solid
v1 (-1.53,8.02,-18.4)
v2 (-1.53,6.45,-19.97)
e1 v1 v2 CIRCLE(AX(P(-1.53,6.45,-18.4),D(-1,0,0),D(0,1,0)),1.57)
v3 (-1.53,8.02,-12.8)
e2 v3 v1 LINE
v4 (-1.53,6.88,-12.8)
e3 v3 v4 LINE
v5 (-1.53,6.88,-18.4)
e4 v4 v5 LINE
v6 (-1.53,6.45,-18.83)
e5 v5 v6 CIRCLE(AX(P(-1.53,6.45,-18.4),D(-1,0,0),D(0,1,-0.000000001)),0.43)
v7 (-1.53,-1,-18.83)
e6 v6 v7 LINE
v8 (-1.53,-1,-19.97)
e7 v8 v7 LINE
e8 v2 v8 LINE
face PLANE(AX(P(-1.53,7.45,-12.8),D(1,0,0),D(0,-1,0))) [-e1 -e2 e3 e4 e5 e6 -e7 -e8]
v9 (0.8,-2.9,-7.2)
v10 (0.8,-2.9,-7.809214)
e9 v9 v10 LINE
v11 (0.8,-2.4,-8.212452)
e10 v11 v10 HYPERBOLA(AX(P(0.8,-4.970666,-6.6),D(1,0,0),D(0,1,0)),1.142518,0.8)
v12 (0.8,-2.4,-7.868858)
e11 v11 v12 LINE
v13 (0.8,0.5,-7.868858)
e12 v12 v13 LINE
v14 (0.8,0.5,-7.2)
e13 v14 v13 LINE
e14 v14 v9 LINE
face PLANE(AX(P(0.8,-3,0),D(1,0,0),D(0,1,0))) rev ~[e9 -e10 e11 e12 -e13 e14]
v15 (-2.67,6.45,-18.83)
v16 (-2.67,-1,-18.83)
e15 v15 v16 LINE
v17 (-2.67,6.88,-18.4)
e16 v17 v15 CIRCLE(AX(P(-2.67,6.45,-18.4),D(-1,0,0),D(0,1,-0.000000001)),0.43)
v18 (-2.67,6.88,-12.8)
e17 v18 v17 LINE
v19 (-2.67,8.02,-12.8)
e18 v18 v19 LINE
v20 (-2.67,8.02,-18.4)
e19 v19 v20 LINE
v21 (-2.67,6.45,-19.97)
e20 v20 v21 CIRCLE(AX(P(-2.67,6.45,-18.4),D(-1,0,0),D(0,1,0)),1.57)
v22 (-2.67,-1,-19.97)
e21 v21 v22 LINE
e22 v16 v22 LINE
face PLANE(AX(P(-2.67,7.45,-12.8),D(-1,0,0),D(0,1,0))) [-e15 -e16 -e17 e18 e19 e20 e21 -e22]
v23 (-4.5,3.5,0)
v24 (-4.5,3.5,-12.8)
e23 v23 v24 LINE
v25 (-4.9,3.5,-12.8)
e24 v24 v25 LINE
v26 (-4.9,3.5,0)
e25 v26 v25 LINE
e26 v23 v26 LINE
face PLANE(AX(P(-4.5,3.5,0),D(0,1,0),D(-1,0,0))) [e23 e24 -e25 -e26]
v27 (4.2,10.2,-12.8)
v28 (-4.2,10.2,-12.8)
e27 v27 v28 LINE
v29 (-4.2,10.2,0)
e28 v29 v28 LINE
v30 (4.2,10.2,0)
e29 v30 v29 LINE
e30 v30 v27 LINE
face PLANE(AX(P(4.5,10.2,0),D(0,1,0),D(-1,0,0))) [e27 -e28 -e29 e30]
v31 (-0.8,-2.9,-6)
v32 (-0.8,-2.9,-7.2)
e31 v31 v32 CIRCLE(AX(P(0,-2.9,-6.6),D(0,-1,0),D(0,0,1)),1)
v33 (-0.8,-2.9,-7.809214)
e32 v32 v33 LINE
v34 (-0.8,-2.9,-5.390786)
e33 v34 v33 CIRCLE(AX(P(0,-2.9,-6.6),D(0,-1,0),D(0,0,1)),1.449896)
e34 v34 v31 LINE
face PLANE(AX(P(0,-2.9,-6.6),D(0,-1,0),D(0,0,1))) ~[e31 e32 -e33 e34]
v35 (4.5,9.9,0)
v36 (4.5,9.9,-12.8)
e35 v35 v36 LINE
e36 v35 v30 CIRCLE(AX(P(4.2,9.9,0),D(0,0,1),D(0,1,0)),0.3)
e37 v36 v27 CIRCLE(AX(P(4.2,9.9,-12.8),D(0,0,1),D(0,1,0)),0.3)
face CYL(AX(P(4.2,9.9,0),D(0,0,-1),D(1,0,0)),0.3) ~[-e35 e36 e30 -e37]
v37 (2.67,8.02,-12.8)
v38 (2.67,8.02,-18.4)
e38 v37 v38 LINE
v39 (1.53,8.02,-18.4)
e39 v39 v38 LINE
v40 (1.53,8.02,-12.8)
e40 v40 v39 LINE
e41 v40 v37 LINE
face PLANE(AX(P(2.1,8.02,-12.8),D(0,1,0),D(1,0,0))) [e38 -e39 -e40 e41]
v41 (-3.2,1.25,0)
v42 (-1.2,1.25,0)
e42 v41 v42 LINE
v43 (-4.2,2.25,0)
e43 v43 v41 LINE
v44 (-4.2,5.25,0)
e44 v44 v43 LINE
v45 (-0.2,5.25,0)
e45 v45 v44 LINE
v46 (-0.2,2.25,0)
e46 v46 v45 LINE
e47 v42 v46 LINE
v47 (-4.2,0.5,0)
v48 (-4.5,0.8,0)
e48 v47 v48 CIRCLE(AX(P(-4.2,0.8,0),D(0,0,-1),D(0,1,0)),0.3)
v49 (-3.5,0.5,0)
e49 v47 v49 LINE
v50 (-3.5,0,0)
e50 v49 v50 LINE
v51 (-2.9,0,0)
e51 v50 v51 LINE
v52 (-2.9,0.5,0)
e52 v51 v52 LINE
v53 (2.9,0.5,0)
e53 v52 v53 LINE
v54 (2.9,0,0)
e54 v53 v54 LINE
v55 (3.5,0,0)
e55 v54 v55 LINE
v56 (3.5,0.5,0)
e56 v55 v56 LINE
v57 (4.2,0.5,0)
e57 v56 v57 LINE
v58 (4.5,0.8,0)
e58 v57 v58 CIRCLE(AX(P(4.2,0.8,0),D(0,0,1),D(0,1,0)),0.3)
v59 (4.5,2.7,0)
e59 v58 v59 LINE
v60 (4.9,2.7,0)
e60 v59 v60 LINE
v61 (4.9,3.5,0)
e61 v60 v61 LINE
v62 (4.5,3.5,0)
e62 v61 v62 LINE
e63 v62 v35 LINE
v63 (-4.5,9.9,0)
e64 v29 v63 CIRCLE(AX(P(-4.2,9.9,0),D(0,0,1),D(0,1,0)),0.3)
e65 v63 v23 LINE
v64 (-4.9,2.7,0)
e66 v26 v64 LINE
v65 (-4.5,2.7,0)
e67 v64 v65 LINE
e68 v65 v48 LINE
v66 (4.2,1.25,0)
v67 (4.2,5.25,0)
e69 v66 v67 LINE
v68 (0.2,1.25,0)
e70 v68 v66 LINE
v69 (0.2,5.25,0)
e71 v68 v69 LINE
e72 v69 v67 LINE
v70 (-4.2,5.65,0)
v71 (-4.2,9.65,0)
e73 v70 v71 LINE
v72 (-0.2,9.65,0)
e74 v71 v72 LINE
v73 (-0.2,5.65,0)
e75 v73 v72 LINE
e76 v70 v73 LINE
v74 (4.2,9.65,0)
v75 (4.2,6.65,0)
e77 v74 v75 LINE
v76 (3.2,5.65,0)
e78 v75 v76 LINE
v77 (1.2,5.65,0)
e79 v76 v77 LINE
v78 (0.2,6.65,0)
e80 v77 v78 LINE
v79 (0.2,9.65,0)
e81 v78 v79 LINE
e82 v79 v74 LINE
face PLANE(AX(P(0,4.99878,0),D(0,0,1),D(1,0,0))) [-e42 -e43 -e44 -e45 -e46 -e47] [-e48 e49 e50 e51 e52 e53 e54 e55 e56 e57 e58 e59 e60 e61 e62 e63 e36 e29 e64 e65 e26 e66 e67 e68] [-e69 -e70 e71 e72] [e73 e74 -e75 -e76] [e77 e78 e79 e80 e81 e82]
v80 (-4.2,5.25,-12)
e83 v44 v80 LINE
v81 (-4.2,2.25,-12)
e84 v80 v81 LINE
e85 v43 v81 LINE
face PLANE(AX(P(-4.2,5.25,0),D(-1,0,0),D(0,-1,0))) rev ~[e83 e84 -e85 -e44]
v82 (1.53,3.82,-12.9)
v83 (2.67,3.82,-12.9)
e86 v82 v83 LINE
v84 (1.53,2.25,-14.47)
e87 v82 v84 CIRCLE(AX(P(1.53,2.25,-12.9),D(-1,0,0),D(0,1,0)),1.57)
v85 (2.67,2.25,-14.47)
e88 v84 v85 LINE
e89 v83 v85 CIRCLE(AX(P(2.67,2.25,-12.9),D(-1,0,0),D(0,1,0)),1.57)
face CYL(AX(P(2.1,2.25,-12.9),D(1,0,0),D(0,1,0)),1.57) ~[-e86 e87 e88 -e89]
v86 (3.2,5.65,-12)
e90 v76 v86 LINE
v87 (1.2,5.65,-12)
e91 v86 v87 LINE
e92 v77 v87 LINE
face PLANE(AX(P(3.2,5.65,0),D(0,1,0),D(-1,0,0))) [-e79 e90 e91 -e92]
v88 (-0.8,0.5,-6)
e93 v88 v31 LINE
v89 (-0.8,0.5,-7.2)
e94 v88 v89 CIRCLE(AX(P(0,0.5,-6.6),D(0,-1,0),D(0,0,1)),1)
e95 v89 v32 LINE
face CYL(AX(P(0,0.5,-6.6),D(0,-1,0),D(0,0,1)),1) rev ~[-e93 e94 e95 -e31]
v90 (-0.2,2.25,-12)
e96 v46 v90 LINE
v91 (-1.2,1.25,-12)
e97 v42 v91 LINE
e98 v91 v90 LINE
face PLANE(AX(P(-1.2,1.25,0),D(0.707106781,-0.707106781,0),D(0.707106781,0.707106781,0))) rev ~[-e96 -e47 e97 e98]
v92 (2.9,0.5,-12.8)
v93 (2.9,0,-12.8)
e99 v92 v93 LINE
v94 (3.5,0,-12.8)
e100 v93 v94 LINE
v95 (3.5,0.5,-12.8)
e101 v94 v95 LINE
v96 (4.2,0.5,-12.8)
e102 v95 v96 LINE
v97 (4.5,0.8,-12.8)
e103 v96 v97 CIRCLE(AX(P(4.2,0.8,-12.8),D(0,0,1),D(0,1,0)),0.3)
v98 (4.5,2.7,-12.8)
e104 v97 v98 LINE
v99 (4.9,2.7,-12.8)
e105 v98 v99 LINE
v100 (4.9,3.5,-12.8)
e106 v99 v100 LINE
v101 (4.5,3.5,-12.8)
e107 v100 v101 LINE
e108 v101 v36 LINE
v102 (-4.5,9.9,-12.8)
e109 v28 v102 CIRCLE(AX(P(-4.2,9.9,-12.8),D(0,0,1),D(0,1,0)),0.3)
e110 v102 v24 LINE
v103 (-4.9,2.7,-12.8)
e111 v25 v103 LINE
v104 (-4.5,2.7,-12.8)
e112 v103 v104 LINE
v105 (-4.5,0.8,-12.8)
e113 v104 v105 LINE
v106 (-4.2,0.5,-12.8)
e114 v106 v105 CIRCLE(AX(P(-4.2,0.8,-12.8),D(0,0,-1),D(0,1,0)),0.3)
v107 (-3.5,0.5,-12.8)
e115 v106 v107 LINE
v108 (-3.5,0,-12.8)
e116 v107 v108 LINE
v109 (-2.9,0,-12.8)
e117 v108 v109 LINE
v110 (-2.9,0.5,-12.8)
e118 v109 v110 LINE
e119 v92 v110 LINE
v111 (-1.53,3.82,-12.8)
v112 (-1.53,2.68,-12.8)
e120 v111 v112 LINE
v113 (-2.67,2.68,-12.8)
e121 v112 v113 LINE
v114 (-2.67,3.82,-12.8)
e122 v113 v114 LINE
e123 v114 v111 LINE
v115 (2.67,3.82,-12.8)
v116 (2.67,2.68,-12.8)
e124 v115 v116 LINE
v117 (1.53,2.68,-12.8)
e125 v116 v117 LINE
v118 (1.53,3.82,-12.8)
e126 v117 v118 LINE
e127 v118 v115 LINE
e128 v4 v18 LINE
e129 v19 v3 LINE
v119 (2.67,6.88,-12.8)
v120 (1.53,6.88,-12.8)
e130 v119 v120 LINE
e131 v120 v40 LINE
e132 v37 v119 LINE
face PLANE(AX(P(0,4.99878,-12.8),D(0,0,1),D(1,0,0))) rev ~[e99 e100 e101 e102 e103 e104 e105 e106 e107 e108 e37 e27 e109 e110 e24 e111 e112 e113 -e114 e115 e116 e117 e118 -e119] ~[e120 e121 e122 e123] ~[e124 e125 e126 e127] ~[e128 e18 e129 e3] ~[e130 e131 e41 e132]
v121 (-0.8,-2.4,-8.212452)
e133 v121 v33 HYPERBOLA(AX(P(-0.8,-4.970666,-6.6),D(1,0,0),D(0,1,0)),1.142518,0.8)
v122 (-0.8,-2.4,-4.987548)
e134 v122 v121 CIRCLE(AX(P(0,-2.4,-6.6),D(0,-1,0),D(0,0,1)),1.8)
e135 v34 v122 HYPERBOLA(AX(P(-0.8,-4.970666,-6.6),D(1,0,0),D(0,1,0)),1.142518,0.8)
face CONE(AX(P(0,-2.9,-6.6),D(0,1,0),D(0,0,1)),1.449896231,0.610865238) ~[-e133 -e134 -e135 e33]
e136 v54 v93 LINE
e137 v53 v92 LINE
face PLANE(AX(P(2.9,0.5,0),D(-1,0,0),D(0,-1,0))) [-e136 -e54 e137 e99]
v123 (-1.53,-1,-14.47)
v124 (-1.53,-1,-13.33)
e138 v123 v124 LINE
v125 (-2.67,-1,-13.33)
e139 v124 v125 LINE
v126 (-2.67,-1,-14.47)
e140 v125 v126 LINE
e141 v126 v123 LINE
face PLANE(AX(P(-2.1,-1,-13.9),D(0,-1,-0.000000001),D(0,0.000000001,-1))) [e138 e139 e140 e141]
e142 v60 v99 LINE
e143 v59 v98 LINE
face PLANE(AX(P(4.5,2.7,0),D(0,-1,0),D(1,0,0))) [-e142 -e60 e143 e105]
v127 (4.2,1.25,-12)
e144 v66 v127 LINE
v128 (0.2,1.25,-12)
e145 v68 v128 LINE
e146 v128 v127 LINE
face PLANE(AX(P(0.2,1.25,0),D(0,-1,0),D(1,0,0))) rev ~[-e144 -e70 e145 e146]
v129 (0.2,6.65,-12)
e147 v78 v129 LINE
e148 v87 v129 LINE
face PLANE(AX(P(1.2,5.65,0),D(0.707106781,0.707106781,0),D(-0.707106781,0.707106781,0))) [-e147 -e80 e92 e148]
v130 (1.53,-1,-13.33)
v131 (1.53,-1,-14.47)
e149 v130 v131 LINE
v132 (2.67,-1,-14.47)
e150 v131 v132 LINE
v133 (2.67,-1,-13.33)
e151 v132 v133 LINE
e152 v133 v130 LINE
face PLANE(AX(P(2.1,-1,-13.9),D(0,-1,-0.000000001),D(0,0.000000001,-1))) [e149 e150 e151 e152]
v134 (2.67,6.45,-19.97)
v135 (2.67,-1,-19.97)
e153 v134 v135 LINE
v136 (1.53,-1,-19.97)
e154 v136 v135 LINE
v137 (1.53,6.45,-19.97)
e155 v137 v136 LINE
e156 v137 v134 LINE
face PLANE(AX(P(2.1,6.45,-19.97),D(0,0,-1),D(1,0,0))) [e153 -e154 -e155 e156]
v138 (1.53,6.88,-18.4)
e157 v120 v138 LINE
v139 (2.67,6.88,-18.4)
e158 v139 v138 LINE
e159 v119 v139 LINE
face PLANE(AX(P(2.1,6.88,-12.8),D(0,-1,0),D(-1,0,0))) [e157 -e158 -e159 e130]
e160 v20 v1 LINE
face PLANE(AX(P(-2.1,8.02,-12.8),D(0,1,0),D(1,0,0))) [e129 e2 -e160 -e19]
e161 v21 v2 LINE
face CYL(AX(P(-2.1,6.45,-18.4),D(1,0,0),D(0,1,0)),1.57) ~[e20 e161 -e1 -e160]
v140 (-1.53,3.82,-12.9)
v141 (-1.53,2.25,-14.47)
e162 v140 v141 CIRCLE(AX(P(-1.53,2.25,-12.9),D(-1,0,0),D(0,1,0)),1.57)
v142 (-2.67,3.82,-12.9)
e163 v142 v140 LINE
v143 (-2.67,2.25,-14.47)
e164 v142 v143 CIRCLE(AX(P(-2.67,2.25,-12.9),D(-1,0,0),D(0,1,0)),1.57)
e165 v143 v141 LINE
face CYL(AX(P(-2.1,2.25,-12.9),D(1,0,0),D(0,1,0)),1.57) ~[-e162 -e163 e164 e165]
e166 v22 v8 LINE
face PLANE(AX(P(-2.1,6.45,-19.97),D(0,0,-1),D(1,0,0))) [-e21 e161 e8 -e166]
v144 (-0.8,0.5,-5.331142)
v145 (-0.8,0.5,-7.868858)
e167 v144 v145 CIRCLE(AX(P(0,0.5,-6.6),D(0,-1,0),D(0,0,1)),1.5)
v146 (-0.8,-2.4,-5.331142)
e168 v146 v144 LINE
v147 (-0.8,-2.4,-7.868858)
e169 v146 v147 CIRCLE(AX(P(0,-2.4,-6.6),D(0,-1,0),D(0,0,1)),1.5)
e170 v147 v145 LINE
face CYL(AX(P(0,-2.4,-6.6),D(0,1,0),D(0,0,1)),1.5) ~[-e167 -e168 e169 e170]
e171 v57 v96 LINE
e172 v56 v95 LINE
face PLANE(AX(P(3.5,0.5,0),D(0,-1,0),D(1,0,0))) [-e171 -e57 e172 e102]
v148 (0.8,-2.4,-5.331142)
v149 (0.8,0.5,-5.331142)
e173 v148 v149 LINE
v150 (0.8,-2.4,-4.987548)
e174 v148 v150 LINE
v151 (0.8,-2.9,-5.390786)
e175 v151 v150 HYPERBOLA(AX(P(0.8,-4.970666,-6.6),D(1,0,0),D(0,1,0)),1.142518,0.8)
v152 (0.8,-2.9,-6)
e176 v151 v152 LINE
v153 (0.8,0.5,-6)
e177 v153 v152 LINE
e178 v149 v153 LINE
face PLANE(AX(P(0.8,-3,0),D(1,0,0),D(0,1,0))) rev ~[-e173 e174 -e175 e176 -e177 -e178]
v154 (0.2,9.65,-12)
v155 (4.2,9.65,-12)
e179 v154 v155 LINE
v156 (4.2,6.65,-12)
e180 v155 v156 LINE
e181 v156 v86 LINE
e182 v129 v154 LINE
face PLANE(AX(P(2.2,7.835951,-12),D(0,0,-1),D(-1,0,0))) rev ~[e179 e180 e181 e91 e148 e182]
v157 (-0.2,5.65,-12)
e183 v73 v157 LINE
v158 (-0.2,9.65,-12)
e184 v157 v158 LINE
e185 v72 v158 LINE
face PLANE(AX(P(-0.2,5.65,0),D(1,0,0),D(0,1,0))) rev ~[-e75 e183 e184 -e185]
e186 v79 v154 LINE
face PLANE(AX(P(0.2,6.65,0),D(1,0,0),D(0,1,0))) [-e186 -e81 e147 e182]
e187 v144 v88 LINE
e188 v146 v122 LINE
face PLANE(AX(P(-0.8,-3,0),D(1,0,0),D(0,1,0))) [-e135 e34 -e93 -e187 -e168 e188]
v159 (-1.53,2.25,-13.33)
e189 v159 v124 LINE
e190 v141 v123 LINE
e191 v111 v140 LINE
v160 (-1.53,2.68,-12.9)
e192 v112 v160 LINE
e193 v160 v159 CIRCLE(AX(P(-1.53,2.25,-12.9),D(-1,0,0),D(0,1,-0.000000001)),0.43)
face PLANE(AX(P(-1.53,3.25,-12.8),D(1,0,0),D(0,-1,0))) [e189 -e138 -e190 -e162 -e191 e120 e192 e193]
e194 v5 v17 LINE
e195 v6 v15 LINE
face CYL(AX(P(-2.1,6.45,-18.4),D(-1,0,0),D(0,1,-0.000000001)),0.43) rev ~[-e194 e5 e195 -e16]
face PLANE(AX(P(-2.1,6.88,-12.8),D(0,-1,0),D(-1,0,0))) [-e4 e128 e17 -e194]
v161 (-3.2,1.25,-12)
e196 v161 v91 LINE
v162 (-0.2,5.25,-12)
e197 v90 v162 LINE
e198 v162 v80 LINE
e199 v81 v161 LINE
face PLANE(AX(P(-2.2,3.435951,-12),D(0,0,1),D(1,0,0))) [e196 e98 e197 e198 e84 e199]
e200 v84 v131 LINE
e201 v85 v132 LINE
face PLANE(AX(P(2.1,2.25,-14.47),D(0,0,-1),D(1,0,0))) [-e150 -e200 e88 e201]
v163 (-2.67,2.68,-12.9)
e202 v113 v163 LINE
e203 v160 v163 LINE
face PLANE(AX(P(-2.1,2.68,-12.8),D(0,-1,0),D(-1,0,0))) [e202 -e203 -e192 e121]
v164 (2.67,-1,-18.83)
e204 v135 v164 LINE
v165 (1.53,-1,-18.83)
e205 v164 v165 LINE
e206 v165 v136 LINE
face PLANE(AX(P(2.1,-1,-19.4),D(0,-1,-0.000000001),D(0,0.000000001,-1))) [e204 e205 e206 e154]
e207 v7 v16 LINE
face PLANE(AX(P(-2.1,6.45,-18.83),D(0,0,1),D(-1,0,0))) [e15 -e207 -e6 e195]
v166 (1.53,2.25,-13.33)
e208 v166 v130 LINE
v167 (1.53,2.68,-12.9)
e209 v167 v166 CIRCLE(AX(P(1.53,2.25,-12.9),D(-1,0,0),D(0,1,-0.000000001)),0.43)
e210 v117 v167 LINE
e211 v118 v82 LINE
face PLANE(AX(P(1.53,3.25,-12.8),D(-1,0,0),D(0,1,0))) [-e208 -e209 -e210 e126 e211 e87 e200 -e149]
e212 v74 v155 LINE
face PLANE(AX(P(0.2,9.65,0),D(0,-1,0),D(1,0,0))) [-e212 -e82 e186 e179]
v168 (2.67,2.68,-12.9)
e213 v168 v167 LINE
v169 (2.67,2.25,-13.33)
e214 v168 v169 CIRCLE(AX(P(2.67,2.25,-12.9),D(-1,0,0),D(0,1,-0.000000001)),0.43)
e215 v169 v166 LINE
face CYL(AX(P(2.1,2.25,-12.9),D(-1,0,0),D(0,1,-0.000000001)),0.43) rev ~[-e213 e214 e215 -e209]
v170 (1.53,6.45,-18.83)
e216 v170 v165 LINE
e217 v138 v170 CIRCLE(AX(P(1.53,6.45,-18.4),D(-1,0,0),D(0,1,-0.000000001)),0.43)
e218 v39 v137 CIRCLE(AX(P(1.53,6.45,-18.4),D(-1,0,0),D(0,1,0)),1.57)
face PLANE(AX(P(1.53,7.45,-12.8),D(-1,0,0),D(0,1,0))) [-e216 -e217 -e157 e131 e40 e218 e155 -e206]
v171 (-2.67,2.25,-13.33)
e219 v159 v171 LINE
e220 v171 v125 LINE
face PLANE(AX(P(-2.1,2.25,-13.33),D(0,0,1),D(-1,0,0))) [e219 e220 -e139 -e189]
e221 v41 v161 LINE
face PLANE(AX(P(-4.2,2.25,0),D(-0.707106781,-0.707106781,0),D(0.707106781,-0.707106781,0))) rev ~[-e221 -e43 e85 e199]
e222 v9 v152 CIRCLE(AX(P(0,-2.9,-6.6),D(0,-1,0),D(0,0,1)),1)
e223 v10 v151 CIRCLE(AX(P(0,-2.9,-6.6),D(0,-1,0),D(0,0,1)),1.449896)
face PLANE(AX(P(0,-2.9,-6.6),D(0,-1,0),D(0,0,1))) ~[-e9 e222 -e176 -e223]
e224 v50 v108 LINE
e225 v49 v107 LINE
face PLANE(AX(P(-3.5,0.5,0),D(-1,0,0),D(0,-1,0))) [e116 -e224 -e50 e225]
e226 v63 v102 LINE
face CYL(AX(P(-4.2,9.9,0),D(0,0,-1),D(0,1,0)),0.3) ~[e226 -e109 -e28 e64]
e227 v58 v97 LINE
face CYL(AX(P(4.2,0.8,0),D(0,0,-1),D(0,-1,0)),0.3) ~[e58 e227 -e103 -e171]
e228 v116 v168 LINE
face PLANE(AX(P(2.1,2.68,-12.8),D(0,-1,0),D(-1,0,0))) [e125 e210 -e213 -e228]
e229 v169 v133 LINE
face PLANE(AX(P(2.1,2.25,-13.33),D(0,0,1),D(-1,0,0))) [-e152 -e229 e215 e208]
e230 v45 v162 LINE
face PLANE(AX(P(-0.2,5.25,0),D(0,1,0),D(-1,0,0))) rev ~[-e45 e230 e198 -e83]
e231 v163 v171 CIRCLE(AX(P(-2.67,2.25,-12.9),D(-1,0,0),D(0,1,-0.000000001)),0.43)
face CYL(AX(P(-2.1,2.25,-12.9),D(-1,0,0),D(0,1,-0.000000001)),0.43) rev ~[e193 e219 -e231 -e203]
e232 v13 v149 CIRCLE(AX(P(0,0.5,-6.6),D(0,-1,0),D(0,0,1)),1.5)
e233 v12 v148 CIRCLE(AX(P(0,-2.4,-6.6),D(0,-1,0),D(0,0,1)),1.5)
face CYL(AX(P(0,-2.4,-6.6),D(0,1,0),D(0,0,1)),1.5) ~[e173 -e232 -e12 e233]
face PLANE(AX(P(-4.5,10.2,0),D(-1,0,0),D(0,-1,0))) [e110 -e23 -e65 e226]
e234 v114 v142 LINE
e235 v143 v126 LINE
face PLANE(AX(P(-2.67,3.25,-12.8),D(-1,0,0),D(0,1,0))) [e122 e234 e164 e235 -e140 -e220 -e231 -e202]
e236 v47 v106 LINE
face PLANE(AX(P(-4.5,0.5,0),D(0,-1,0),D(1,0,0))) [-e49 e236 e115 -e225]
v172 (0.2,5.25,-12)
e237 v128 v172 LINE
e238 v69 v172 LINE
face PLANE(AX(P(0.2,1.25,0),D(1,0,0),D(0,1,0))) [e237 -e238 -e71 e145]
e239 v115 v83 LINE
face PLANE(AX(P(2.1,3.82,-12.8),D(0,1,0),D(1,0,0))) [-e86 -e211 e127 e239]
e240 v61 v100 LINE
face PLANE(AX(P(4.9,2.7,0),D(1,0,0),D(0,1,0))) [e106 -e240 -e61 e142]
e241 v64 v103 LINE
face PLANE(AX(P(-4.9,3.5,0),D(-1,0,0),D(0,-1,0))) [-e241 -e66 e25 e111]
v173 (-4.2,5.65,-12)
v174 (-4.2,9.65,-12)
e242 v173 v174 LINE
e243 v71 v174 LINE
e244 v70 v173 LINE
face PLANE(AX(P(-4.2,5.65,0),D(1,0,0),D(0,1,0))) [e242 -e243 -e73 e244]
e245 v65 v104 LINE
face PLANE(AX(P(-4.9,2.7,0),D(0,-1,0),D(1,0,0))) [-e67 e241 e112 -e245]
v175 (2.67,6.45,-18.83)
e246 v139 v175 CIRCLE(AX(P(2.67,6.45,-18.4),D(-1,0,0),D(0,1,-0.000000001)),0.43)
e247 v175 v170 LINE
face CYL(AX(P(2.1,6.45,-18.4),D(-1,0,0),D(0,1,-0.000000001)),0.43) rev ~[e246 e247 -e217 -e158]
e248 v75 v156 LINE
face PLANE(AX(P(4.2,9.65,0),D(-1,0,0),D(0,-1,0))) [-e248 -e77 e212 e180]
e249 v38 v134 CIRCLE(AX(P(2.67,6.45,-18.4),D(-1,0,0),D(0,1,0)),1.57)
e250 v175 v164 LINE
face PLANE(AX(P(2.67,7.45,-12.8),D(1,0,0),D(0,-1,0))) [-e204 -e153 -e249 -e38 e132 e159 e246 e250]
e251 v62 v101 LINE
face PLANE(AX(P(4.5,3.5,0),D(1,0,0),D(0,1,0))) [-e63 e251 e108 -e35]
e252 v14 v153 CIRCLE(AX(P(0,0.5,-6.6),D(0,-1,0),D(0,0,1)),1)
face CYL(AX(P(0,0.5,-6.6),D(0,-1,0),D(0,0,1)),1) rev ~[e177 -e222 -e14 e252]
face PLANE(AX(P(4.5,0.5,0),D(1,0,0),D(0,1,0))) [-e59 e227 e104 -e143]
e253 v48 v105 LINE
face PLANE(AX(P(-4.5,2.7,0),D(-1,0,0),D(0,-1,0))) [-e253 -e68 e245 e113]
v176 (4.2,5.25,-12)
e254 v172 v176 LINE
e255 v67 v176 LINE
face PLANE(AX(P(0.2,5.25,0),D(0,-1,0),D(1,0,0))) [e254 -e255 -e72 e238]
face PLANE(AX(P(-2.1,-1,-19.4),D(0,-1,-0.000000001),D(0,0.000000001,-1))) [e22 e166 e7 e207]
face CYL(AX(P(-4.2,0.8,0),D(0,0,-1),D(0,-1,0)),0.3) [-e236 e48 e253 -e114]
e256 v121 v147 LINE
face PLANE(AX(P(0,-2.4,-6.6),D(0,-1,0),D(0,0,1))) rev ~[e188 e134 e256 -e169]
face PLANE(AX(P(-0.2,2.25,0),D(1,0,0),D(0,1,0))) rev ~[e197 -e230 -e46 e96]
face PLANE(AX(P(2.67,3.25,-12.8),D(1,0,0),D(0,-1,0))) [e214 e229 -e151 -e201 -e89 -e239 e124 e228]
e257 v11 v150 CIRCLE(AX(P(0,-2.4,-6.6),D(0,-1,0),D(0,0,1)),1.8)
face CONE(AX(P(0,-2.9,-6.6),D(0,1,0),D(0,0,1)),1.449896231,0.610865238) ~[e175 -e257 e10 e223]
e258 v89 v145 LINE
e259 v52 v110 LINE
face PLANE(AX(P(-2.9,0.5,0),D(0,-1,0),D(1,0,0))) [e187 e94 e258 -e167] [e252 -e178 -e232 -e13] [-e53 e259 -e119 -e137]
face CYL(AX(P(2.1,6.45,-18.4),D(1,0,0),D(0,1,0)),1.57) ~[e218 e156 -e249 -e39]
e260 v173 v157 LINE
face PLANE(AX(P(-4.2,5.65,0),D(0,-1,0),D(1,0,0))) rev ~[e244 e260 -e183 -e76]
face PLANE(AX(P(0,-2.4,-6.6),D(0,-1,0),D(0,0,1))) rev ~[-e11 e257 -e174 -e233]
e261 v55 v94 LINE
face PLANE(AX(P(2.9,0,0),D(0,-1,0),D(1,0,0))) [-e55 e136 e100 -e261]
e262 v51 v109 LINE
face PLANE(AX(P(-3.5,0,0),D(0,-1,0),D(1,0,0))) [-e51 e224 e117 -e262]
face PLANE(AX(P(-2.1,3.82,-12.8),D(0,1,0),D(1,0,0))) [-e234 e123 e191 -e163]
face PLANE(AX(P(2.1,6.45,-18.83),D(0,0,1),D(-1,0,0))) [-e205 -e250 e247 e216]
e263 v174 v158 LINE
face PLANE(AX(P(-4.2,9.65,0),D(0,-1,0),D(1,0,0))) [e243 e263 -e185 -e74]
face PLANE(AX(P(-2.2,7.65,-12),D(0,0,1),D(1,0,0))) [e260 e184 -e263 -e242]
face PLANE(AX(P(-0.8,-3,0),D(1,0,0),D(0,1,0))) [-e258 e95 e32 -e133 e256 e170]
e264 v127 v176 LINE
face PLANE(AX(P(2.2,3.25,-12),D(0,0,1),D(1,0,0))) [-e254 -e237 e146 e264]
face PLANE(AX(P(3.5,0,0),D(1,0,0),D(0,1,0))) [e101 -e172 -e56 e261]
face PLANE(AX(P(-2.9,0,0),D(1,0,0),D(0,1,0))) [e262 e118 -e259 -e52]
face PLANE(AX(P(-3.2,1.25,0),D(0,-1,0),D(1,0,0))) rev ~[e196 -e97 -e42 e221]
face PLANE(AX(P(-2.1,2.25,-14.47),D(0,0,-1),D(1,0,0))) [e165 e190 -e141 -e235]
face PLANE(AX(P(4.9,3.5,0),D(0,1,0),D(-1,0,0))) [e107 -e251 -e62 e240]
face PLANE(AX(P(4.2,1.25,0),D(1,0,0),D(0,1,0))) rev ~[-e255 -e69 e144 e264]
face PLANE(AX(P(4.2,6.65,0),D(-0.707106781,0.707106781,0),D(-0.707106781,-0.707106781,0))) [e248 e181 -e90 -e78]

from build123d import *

# Parameters (mm, degrees)
BOSS_EXTRUDE1_DEPTH = 12.8
SKETCH2_W           = 1.14
SKETCH2_H           = 1.14
SKETCH4_W           = 1.14
SKETCH4_H           = 1.14
LPATTERN2_COUNT     = 2
LPATTERN2_PITCH     = 4.2
LPATTERN3_COUNT     = 2
LPATTERN3_PITCH     = 4.2
FILLET1_R           = 0.3
SKETCH6_W           = 4
SKETCH6_H           = 4
CUT_EXTRUDE1_DEPTH  = 12
SKETCH9_W           = 1.6
SKETCH9_H           = 3.5
CUT_EXTRUDE2_DEPTH  = 20.97


with BuildPart() as part:
    # Sketch1 → Boss-Extrude1 (new body)
    with BuildSketch(Plane.XY):
        Polygon((-4.5, 0.5), (-3.5, 0.5), (-3.5, 0), (-2.9, 0), (-2.9, 0.5), (2.9, 0.5), (2.9, 0), (3.5, 0), (3.5, 0.5), (4.5, 0.5), (4.5, 2.7), (4.9, 2.7), (4.9, 3.5), (4.5, 3.5), (4.5, 10.2), (-4.5, 10.2), (-4.5, 3.5), (-4.9, 3.5), (-4.9, 2.7), (-4.5, 2.7), align=None)
    extrude(amount=-BOSS_EXTRUDE1_DEPTH)

    # Sweep2: sweep along a path in Sketch3
    with BuildLine(Plane(origin=(2.1, 0, 0), x_dir=(0, 0, -1), z_dir=(1, 0, 0))) as sweep2_path:
        Line((12.8, 7.45), (18.4, 7.45))
        ThreePointArc((18.4, 7.45), (19.107106781, 7.157106781), (19.4, 6.45))
        Line((19.4, 6.45), (19.4, -1))
    # Sketch2 → Sweep2 (sweep)
    with BuildSketch(Plane(origin=(0, 0, -12.8), x_dir=(-1, 0, 0), z_dir=(0, 0, -1))):
        with Locations((-2.1, 7.45)):
            Rectangle(SKETCH2_W, SKETCH2_H)
    sweep2 = sweep(path=sweep2_path.line)

    # Sweep3: sweep along a path in Sketch5
    with BuildLine(Plane(origin=(2.1, 0, 0), x_dir=(0, 0, -1), z_dir=(1, 0, 0))) as sweep3_path:
        Line((12.8, 3.25), (12.9, 3.25))
        ThreePointArc((12.9, 3.25), (13.607106781, 2.957106781), (13.9, 2.25))
        Line((13.9, 2.25), (13.9, -1))
    # Sketch4 → Sweep3 (sweep)
    with BuildSketch(Plane(origin=(0, 0, -12.8), x_dir=(-1, 0, 0), z_dir=(0, 0, -1))):
        with Locations((-2.1, 3.25)):
            Rectangle(SKETCH4_W, SKETCH4_H)
    sweep3 = sweep(path=sweep3_path.line)

    # LPattern2: Sweep2 ×2
    with Locations(*[(-i * LPATTERN2_PITCH, 0, 0) for i in range(1, LPATTERN2_COUNT)]):
        add(sweep2)

    # LPattern3: Sweep3 ×2
    with Locations(*[(-i * LPATTERN3_PITCH, 0, 0) for i in range(1, LPATTERN3_COUNT)]):
        add(sweep3)

    # Fillet1
    fillet1_edges = [part.edges().sort_by_distance(p)[0] for p in [
        (-4.5, 10.2, -6.4),
        (4.5, 10.2, -6.4),
        (4.5, 0.5, -6.4),
        (-4.5, 0.5, -6.4),
    ]]
    fillet(fillet1_edges, radius=FILLET1_R)

    # Sketch6 → Cut-Extrude1 (cut)
    with BuildSketch(Plane.XY):
        Polygon((-4.2, 2.25), (-3.2, 1.25), (-1.2, 1.25), (-0.2, 2.25), (-0.2, 5.25), (-4.2, 5.25), align=None)
        with Locations((-2.2, 7.65)):
            Rectangle(SKETCH6_W, SKETCH6_H)
        with Locations((2.2, 3.25)):
            Rectangle(SKETCH6_W, SKETCH6_H)
        Polygon((0.2, 9.65), (4.2, 9.65), (4.2, 6.65), (3.2, 5.65), (1.2, 5.65), (0.2, 6.65), align=None)
    extrude(amount=-CUT_EXTRUDE1_DEPTH, mode=Mode.SUBTRACT)

    # Sketch8 → Revolve1 (revolve)
    with BuildSketch(Plane(origin=(0, 0, 0), x_dir=(0, 0, -1), z_dir=(1, 0, 0))):
        Polygon((5.6, 0.5), (5.6, -2.9), (5.150103769, -2.9), (4.8, -2.4), (5.1, -2.4), (5.1, 0.5), align=None)
    revolve(axis=Axis((0, 0.5, -6.6), (0, -1, 0)))

    # Sketch9 → Cut-Extrude2 (cut, through all)
    with BuildSketch(Plane.XY):
        with Locations((0, -1.25)):
            Rectangle(SKETCH9_W, SKETCH9_H)
    extrude(amount=-CUT_EXTRUDE2_DEPTH, mode=Mode.SUBTRACT)


solid = part.part
